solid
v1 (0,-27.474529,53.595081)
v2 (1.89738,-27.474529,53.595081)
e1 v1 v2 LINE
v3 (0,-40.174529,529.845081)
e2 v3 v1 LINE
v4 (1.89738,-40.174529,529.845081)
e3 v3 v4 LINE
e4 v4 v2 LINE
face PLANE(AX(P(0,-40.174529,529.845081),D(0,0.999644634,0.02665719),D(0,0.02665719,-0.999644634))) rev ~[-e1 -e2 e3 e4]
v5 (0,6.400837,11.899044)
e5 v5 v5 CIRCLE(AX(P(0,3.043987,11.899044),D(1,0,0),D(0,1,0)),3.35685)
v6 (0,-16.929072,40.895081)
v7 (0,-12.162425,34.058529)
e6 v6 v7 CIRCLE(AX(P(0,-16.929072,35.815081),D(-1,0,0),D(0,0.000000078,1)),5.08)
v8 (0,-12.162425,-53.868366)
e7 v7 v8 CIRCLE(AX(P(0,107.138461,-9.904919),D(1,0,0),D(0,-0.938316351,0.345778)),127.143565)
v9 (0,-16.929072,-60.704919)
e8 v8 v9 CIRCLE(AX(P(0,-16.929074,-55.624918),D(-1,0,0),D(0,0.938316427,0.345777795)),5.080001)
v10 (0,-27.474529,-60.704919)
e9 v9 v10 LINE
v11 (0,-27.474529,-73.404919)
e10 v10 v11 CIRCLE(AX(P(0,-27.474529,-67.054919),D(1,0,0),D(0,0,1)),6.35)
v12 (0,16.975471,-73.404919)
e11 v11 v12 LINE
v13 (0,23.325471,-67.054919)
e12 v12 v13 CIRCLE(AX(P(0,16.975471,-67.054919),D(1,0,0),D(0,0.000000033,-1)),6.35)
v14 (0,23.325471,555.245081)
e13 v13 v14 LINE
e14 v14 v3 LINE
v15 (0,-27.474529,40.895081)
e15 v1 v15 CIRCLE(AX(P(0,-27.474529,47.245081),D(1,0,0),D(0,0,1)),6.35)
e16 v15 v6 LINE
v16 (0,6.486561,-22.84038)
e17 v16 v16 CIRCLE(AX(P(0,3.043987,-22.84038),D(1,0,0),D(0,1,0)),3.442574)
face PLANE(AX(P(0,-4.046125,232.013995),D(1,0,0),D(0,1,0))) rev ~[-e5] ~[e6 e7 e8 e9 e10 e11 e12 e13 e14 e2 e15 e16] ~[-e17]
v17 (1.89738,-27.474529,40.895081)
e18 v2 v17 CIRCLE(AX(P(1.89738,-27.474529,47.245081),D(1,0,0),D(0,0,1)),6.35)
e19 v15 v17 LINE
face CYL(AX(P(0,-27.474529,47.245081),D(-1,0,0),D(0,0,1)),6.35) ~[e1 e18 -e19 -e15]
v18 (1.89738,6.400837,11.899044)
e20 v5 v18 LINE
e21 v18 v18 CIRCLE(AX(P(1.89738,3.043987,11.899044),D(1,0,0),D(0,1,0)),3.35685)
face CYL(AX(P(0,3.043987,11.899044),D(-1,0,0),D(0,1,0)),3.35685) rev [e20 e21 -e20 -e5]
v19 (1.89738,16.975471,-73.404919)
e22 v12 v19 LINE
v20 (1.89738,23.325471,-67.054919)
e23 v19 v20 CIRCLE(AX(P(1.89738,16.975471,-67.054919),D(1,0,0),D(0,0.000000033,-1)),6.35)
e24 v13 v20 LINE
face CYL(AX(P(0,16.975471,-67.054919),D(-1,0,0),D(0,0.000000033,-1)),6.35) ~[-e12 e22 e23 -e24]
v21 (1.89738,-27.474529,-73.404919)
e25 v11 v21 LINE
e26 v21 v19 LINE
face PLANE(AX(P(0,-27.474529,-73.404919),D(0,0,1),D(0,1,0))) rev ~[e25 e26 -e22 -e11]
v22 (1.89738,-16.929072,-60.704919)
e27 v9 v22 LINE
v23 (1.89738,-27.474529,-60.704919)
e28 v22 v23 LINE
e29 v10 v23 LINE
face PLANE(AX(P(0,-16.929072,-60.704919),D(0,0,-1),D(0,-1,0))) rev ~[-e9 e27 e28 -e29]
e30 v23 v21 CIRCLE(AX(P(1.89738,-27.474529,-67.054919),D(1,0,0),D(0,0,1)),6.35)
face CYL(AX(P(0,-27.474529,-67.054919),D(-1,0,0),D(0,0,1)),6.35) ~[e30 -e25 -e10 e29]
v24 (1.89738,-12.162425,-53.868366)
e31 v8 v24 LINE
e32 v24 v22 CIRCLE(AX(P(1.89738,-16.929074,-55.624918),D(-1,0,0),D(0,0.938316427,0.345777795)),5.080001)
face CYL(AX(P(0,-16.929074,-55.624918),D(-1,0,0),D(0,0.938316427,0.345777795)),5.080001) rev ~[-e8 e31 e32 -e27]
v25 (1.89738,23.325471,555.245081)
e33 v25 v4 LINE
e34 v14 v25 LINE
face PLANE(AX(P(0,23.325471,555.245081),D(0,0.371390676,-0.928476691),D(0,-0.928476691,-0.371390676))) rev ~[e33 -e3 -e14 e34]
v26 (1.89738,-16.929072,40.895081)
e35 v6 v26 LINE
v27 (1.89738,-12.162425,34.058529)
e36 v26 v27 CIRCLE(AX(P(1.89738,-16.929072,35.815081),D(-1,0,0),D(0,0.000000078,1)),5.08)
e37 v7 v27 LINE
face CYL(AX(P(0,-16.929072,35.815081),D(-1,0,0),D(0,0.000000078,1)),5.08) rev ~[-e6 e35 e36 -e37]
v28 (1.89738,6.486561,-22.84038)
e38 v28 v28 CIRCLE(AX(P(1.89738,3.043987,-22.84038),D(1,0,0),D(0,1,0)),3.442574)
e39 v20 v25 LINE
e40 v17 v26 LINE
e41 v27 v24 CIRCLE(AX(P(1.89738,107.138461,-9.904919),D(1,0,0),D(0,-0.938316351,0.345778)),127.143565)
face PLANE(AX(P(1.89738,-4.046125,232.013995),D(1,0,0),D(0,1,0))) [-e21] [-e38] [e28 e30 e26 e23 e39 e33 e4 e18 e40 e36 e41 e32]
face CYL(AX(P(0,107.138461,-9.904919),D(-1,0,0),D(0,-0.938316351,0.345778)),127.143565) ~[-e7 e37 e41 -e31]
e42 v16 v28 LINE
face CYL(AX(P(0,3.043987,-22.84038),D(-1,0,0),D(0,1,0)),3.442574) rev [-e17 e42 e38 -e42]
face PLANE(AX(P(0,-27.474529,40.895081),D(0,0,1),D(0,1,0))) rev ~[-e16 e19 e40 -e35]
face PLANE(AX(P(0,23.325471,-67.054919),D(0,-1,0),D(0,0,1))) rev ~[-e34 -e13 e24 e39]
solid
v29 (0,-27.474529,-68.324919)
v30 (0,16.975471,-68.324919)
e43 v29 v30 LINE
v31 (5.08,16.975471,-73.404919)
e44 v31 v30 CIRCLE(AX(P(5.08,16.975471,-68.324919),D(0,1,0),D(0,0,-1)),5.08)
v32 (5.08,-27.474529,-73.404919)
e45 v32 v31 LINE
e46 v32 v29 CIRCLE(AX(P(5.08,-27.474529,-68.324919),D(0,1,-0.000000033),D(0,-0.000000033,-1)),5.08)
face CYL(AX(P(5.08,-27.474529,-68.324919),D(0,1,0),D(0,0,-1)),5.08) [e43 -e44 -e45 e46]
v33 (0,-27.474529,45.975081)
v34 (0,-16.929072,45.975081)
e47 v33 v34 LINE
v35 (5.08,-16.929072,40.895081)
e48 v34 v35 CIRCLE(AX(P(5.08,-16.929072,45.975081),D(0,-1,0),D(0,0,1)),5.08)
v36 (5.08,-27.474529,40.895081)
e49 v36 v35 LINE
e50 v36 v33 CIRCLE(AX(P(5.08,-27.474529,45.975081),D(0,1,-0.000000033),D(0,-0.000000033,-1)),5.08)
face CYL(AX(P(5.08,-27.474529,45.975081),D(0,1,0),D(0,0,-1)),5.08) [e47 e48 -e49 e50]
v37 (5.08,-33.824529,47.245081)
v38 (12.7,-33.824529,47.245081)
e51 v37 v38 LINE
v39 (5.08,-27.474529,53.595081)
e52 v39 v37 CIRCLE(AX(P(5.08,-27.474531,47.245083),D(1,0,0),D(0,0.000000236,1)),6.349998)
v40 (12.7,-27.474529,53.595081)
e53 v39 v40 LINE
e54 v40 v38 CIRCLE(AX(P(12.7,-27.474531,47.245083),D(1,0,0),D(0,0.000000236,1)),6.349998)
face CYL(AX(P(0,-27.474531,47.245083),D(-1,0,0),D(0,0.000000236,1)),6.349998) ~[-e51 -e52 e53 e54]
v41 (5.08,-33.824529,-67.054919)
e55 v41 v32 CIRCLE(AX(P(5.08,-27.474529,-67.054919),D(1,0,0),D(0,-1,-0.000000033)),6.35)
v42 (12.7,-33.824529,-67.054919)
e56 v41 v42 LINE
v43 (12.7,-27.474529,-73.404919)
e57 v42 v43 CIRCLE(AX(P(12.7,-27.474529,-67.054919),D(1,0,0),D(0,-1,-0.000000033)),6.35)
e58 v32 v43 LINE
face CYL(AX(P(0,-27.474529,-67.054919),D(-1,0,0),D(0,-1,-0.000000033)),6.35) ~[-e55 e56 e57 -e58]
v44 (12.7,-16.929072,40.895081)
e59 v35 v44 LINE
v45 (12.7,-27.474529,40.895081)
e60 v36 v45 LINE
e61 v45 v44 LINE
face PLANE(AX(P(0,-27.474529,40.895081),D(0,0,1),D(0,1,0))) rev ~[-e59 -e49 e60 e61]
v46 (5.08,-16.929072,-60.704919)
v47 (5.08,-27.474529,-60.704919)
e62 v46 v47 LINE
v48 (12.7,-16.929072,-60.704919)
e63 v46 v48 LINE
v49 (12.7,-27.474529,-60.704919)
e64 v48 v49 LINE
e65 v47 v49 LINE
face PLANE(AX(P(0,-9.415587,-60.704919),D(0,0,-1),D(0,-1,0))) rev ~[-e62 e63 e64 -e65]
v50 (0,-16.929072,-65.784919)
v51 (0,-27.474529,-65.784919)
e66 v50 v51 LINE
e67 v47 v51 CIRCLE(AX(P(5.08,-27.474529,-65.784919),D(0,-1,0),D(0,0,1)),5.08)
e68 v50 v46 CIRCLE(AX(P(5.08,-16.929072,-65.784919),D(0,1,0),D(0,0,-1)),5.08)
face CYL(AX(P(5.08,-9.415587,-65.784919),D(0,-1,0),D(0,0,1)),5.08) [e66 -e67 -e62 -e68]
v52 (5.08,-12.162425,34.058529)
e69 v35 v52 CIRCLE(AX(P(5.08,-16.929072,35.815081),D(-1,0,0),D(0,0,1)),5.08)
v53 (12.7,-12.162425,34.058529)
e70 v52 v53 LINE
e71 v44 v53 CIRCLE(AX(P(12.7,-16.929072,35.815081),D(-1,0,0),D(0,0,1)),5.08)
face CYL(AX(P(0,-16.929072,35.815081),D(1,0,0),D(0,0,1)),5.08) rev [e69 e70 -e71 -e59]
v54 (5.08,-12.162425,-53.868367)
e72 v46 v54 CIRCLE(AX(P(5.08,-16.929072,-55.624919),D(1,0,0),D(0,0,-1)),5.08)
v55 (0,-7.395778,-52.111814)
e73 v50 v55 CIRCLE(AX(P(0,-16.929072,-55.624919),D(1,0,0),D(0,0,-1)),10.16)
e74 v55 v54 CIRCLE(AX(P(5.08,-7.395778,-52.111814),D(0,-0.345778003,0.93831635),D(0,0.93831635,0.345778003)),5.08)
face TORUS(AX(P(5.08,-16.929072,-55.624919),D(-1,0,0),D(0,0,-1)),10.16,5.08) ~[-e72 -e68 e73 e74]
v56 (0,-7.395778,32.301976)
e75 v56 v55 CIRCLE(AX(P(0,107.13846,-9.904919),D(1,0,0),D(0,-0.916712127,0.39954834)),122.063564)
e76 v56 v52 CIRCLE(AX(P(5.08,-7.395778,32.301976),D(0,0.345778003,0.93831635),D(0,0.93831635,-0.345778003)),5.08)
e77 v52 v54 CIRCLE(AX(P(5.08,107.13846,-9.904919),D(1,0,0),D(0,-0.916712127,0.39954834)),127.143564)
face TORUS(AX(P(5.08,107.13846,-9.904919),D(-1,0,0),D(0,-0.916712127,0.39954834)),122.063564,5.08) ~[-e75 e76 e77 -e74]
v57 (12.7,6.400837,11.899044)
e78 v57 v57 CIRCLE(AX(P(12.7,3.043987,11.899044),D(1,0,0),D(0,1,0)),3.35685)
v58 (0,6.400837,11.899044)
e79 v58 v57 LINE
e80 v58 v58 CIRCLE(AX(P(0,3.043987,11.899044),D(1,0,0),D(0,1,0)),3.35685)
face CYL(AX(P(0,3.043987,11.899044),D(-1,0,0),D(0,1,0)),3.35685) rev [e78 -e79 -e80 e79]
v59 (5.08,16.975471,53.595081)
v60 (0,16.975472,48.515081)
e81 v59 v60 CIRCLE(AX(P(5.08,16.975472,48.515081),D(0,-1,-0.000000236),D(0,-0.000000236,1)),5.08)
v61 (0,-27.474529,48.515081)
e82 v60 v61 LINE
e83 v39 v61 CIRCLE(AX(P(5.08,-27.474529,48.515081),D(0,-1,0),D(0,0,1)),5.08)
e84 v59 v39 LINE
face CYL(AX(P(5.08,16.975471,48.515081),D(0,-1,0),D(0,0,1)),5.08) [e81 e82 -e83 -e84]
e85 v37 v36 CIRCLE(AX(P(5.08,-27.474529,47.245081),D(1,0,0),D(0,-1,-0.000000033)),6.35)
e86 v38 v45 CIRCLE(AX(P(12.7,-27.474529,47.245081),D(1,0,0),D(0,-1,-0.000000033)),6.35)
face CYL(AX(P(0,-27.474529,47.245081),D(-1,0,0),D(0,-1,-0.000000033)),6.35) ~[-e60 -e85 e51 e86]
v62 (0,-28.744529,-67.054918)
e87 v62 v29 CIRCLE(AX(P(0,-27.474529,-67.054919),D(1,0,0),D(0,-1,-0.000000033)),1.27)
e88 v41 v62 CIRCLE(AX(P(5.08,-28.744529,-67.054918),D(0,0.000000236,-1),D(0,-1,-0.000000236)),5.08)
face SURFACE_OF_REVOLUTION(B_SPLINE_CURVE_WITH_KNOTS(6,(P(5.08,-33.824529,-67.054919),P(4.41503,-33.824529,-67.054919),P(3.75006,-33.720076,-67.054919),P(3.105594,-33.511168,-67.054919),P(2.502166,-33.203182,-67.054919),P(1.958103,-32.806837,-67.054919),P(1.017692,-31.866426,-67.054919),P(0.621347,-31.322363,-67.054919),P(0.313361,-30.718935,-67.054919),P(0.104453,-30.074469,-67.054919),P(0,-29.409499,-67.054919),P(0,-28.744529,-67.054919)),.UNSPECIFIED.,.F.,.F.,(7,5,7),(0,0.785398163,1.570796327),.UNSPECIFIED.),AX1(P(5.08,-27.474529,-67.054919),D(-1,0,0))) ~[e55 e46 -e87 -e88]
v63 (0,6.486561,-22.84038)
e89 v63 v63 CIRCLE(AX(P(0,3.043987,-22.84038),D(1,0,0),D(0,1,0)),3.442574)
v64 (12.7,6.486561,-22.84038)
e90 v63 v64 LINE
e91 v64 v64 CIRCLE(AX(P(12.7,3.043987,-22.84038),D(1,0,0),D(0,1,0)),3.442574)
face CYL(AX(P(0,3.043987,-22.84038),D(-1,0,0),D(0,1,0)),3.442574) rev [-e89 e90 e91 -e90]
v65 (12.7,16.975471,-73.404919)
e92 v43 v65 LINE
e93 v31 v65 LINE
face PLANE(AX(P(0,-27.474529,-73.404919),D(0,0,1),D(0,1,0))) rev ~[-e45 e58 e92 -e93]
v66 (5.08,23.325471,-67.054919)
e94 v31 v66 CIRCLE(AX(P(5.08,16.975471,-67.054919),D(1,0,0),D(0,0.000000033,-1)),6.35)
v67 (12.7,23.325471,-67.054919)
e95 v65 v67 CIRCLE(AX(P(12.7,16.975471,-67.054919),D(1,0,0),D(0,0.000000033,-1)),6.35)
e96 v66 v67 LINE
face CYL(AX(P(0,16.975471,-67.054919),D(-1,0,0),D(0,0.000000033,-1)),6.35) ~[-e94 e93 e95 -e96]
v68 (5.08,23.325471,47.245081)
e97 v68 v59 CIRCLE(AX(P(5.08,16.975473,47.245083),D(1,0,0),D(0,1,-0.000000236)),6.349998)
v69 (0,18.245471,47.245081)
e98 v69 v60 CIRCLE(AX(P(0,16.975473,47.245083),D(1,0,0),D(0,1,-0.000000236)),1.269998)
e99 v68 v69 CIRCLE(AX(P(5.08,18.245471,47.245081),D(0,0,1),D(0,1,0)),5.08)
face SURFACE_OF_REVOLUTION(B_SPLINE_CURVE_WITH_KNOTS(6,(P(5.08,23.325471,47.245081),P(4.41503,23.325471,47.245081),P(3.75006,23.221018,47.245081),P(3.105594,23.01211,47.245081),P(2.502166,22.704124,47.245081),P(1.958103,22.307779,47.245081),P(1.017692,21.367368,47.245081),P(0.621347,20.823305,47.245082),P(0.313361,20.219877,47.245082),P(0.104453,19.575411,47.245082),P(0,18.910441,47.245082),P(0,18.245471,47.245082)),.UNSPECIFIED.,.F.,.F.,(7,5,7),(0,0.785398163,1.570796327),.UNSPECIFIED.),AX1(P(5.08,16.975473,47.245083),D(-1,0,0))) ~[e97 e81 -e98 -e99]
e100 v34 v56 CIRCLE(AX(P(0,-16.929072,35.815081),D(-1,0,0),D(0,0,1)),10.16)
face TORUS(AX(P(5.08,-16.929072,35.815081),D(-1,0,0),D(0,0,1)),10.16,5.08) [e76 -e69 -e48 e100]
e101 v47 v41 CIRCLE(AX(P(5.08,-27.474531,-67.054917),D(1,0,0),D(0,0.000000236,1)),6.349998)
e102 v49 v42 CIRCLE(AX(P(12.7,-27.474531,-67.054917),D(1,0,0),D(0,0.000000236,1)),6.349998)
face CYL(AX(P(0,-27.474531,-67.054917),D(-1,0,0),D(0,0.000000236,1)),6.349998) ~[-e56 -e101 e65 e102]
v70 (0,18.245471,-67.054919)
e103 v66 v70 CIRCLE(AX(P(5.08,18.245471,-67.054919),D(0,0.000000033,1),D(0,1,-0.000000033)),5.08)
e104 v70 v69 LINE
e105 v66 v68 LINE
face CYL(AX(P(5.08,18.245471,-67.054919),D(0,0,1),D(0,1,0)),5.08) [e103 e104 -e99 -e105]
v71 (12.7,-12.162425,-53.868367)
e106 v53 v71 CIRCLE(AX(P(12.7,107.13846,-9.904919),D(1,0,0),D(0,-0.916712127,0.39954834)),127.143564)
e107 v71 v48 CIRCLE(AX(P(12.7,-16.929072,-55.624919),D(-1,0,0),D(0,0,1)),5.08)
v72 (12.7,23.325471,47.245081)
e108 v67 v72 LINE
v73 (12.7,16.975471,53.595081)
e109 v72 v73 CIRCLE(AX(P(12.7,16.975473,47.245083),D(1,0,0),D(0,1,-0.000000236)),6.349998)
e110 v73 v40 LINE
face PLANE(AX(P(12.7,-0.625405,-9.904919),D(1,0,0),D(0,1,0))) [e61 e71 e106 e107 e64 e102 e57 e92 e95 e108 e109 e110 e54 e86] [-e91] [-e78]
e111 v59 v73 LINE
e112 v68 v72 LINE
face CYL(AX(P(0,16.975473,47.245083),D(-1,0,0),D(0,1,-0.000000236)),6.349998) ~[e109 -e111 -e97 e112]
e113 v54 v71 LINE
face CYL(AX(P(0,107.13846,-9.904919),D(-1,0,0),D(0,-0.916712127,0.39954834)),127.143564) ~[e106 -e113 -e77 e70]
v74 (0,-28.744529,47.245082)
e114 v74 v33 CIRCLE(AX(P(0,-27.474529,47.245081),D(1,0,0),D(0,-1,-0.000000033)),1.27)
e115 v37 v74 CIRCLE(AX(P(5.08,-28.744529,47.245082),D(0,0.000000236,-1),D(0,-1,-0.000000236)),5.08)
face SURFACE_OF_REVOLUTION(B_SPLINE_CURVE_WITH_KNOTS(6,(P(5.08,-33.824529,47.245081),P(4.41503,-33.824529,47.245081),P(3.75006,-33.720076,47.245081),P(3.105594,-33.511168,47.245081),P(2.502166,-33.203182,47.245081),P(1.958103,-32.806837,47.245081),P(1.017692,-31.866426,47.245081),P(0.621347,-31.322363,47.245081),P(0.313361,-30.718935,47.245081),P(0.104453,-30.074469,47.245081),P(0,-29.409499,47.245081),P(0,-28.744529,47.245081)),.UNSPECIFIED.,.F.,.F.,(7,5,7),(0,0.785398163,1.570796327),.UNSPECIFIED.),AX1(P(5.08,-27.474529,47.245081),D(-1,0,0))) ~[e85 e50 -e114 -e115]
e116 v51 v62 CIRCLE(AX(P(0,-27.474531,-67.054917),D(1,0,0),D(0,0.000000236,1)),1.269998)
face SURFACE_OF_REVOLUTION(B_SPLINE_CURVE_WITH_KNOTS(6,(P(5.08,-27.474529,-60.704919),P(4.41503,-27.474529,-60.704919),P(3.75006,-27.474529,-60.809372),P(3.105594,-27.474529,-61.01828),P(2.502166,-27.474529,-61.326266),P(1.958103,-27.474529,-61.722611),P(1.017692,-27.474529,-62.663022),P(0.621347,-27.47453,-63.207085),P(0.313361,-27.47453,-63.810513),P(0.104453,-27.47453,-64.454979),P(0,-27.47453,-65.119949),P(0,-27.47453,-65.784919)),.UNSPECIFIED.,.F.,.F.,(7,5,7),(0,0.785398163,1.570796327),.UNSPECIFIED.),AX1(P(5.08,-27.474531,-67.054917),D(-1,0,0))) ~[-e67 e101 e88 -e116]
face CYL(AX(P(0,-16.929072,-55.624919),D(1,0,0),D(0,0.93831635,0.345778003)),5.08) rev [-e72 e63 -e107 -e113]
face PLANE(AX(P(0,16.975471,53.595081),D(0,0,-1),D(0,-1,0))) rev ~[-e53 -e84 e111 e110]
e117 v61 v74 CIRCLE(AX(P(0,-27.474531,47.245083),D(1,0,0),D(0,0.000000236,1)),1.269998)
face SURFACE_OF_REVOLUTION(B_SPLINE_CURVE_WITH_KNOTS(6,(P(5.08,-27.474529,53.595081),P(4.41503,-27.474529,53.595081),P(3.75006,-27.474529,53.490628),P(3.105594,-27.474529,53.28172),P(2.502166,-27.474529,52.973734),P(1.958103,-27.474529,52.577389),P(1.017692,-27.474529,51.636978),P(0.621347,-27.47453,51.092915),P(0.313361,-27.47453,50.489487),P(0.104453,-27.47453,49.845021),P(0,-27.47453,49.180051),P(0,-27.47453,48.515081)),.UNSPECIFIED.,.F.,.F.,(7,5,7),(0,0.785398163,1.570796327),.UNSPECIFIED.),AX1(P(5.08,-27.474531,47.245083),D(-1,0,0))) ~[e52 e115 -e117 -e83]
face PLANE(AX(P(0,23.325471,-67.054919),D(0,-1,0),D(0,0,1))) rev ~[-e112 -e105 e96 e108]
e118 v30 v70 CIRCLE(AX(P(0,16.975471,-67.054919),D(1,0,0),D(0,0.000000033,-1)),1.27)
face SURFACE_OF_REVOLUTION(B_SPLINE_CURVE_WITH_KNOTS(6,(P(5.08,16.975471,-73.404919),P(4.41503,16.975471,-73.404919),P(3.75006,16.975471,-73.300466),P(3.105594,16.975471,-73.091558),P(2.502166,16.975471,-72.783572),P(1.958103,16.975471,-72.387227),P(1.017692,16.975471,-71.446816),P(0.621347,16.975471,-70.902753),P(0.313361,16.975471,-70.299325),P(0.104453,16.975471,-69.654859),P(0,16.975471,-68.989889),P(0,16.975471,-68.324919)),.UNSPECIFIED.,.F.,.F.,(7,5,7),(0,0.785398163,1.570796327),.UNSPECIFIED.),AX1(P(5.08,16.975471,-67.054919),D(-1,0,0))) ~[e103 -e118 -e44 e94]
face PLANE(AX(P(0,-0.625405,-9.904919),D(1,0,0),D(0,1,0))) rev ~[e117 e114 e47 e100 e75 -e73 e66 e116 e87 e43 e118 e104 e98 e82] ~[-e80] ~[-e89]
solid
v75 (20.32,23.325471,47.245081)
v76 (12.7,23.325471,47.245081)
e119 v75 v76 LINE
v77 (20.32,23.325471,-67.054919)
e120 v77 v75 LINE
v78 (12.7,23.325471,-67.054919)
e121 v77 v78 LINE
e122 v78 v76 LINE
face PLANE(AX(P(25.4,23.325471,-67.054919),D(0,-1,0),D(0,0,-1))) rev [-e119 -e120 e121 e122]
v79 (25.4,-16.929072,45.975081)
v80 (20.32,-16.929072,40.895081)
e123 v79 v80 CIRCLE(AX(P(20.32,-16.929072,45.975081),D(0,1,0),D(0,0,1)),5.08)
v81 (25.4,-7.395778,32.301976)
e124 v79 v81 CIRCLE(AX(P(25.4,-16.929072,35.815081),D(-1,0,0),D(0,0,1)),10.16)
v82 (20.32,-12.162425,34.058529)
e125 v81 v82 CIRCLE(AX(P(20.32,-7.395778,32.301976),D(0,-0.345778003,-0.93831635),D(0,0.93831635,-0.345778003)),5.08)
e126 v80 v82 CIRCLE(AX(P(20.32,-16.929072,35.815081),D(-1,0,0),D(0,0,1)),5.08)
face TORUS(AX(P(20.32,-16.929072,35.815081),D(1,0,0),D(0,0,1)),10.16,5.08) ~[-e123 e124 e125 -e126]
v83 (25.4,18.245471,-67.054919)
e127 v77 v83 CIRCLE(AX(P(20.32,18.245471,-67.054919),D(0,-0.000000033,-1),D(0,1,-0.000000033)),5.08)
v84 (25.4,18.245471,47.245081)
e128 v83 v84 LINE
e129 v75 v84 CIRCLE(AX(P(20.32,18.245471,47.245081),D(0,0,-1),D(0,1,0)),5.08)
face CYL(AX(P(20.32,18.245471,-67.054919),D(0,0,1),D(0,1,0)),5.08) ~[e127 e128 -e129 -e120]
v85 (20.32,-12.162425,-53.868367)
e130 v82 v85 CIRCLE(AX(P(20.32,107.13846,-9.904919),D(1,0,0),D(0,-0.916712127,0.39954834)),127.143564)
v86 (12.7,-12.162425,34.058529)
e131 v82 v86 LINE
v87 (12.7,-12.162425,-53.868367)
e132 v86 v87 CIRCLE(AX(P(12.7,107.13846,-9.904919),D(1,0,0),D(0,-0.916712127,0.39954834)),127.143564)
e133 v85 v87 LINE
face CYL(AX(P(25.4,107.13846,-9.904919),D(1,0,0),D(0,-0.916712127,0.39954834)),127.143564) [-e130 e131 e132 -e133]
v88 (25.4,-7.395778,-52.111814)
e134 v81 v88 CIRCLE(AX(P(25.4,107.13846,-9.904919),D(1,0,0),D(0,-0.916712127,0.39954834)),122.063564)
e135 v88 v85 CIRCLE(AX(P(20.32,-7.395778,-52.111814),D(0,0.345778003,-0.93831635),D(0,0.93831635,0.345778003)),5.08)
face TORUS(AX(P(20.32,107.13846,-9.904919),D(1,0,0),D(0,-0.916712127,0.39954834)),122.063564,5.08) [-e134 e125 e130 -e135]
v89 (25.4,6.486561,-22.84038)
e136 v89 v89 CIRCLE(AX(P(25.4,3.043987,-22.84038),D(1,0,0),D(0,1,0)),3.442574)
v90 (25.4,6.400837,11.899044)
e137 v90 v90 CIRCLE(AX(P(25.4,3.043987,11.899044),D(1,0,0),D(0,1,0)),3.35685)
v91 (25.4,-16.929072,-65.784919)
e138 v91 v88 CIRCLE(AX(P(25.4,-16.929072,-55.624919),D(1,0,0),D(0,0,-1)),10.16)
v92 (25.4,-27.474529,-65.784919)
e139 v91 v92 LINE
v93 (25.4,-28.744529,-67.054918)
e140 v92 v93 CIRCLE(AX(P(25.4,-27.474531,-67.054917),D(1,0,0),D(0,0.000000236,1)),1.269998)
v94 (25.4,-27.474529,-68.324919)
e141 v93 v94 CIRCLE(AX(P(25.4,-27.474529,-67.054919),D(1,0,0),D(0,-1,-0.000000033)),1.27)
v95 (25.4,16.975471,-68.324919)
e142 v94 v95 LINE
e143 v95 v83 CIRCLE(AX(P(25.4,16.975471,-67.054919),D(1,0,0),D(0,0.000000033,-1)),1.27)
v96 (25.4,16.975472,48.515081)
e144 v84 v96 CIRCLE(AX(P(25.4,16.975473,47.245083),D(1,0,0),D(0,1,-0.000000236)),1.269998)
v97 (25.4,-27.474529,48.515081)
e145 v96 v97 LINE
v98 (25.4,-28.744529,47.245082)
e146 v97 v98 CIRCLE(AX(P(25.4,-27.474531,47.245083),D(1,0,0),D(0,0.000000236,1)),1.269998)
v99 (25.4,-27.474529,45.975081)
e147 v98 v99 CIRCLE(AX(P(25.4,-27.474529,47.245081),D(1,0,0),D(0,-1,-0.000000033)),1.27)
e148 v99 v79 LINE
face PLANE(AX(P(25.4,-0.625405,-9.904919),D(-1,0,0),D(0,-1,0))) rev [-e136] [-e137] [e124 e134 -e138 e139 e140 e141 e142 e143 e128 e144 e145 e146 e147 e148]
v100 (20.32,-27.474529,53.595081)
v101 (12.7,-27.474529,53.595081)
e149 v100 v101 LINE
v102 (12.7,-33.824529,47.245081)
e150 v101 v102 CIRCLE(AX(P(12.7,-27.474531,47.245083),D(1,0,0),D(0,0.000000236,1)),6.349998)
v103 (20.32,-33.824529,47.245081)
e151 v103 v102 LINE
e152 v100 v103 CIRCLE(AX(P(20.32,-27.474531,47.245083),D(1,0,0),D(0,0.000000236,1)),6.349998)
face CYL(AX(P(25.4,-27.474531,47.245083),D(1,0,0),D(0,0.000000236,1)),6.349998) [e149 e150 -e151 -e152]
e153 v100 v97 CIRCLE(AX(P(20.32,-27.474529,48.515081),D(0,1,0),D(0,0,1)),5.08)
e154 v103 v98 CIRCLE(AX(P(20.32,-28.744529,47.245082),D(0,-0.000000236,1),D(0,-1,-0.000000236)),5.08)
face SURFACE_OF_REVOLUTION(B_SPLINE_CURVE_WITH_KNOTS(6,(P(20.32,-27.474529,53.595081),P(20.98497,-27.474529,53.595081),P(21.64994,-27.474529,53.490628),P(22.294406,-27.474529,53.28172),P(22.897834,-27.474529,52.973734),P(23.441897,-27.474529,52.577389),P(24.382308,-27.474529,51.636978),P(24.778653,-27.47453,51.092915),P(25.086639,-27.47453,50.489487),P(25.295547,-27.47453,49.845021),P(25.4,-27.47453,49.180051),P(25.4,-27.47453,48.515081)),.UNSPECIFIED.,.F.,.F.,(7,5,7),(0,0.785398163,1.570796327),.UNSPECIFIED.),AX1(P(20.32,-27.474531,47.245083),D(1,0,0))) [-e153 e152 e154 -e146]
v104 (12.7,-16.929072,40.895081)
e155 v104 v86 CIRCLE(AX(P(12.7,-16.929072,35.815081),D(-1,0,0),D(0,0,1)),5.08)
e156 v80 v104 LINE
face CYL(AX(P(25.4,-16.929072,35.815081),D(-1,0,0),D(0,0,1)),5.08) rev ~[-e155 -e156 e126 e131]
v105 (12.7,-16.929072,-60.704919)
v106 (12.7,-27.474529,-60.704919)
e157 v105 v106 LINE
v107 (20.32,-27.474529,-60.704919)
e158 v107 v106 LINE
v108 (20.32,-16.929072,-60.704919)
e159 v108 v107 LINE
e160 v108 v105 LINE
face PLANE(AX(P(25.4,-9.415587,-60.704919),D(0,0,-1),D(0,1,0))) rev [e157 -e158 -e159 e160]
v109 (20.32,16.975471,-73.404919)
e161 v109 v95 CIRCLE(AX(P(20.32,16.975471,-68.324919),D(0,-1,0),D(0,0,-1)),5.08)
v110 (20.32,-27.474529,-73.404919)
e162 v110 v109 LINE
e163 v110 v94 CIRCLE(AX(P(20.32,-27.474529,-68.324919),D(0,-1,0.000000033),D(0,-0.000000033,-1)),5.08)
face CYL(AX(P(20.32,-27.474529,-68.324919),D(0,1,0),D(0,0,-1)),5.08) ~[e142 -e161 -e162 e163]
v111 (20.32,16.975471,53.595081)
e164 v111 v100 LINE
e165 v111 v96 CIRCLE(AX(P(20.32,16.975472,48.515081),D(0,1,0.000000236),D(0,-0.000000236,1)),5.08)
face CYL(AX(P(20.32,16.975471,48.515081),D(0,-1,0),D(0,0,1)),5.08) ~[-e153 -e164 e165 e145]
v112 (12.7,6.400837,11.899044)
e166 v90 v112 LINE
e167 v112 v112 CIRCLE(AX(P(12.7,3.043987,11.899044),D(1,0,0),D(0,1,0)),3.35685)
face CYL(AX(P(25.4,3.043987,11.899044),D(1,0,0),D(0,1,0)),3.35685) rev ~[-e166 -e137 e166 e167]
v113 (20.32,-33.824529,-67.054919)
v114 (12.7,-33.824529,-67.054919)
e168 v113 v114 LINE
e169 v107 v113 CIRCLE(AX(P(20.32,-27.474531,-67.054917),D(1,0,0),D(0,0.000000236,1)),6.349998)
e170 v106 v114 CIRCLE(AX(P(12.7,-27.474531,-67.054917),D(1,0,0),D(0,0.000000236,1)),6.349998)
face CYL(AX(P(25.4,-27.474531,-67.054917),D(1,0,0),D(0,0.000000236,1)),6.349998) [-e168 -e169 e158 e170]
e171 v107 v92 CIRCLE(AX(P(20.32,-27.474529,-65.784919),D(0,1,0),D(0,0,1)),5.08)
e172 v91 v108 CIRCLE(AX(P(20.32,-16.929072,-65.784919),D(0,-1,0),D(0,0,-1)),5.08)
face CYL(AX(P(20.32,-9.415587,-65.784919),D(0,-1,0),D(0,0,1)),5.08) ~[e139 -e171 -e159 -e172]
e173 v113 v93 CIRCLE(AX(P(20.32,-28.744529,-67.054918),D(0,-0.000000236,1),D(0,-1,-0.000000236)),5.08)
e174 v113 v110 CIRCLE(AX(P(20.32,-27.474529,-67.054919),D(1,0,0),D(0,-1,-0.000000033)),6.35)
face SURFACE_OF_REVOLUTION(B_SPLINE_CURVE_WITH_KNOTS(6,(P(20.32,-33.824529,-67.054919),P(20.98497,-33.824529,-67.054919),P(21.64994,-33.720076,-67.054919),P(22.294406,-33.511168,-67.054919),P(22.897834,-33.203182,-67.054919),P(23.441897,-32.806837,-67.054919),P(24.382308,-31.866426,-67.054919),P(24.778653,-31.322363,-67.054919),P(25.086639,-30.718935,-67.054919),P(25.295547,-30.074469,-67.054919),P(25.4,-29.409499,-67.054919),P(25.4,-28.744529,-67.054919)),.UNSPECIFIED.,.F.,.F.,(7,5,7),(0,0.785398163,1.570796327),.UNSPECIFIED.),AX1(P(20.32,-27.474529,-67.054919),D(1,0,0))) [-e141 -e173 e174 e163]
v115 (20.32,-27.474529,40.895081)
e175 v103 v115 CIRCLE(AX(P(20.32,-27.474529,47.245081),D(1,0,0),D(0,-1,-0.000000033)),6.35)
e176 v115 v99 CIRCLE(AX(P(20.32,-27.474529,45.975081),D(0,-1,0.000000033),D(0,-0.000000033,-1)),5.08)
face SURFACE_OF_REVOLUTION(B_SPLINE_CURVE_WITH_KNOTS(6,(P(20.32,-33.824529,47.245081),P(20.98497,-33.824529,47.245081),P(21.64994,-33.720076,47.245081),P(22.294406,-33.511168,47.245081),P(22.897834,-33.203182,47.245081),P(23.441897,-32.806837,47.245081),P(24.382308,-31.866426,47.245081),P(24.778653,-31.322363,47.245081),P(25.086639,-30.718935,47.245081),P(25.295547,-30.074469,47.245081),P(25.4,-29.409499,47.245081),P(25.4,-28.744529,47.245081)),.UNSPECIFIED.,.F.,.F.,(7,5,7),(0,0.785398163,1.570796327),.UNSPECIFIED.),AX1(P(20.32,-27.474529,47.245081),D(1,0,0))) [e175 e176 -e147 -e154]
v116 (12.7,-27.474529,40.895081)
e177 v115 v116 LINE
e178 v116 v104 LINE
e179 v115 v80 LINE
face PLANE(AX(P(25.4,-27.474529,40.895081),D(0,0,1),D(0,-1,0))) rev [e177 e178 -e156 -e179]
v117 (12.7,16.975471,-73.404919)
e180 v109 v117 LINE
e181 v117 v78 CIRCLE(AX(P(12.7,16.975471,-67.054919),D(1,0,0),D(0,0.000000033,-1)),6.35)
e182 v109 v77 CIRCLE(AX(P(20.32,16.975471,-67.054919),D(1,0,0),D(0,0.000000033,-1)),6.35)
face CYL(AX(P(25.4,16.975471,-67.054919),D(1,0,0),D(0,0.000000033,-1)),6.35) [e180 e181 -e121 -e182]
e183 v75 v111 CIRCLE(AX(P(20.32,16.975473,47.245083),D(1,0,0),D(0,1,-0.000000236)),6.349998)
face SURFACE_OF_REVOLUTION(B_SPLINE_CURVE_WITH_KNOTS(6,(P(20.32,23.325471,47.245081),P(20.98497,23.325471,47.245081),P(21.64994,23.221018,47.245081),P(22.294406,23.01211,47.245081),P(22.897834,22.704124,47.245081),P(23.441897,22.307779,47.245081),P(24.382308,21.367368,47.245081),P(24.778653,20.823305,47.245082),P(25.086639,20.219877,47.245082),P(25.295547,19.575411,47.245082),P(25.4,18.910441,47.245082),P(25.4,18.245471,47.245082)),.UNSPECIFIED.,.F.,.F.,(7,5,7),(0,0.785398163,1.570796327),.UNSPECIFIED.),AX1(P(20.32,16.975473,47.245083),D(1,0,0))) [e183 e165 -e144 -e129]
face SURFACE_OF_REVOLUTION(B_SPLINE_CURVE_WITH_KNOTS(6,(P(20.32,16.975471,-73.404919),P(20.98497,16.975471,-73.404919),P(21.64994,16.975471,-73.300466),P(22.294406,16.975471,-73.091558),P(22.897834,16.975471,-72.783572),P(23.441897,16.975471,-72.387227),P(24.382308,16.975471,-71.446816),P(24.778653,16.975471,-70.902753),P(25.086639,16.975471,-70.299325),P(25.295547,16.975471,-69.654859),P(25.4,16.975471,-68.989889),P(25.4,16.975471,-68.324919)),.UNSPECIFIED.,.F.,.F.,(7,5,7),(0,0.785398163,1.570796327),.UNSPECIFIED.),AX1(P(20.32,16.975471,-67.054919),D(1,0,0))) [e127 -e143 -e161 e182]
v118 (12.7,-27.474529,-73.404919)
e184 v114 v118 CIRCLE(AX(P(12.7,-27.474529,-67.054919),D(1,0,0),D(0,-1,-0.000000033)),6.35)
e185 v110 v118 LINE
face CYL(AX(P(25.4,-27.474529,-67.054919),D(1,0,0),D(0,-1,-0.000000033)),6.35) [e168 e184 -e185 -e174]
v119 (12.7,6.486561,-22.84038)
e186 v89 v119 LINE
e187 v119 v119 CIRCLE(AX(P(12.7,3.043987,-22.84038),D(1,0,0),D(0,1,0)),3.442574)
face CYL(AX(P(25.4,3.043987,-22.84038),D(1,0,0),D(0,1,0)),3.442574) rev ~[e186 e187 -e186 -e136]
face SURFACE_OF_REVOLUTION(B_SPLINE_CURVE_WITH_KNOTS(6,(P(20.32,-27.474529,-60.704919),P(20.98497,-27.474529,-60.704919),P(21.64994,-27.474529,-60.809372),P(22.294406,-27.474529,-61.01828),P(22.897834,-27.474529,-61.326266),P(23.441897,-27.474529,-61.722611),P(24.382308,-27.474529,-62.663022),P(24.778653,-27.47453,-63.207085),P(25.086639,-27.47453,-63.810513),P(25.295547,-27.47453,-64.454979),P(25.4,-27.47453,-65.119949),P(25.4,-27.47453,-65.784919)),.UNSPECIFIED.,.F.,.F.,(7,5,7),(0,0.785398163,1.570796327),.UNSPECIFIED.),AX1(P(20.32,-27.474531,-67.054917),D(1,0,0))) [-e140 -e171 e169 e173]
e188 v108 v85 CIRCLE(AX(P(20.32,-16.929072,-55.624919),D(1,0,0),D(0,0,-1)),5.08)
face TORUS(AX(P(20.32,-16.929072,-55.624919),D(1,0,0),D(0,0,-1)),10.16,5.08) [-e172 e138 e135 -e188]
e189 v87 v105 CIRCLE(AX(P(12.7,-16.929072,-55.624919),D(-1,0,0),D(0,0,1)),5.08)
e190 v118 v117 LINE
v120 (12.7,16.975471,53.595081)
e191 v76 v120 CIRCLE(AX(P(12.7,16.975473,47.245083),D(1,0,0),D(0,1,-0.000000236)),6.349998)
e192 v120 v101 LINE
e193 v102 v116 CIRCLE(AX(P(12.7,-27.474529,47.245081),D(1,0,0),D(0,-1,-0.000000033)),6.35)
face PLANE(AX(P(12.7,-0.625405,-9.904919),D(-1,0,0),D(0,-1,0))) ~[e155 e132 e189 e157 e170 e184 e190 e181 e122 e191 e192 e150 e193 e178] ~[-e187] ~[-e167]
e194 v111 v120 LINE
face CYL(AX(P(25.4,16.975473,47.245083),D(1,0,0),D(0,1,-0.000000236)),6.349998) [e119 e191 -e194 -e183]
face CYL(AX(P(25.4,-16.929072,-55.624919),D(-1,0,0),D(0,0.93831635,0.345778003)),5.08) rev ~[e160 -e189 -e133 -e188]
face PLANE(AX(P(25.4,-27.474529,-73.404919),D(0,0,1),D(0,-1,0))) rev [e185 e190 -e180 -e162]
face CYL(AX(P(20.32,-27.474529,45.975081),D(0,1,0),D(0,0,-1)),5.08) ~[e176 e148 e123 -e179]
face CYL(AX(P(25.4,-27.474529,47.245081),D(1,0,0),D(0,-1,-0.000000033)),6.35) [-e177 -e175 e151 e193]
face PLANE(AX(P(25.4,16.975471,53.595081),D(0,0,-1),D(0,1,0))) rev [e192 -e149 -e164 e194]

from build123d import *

# Parameters (mm, degrees)
F0_R     = 3.442574
F0_R_2   = 3.35685
F1_DEPTH = 12.7
F2_R     = 5.08
F4_R     = 3.442574
F4_R_2   = 3.35685
F5_DEPTH = 1.89738


with BuildPart() as f1:
    # F0 (on Right) → F1 (new body)
    with BuildSketch(Plane.YZ):
        with BuildLine():
            Line((23.325471, -67.054919), (23.325471, 47.245081))
            ThreePointArc((23.325471, 47.245081), (21.465599, 51.73521), (16.975471, 53.595081))
            Line((16.975471, 53.595081), (-27.474529, 53.595081))
            ThreePointArc((-27.474529, 53.595081), (-31.964657, 51.73521), (-33.824529, 47.245081))
            ThreePointArc((-33.824529, 47.245081), (-31.964657, 42.754953), (-27.474529, 40.895081))
            Line((-27.474529, 40.895081), (-9.415587, 40.895081))
            Line((-9.415587, 40.895081), (-9.415587, -60.704919))
            Line((-9.415587, -60.704919), (-27.474529, -60.704919))
            ThreePointArc((-27.474529, -60.704919), (-31.964657, -62.56479), (-33.824529, -67.054919))
            ThreePointArc((-33.824529, -67.054919), (-31.964657, -71.545047), (-27.474529, -73.404919))
            Line((-27.474529, -73.404919), (16.975471, -73.404919))
            ThreePointArc((16.975471, -73.404919), (21.465599, -71.545047), (23.325471, -67.054919))
        make_face()
        with Locations((3.043987, -22.84038)):
            Circle(F0_R, mode=Mode.SUBTRACT)
        with Locations((3.043987, 11.899044)):
            Circle(F0_R_2, mode=Mode.SUBTRACT)
        with BuildLine():
            Line((-9.415587, -60.704919), (-9.415587, 40.895081))
            ThreePointArc((-9.415587, 40.895081), (-20.005104, -9.904919), (-9.415587, -60.704919))
        make_face()
    extrude(amount=F1_DEPTH)

    # F2
    f2_edges = [f1.edges().sort_by_distance(p)[0] for p in [
        (0, -5.249529, 53.595081),
        (0, -20.005104, -9.904919),
        (6.35, -9.415587, 40.895081),
        (6.35, -9.415587, -60.704919),
    ]]
    fillet(f2_edges, radius=F2_R)


with BuildPart() as f3_1:
    # F3: instance of F1
    add(f1.part.mirror(Plane(origin=(12.7, 1.082307, -9.958647), x_dir=(0, 1, 0), z_dir=(1, 0, 0))))


with BuildPart() as f5:
    # F4 (on Right) → F5 (new body)
    with BuildSketch(Plane.YZ):
        with BuildLine():
            ThreePointArc((-27.474529, 53.595081), (-33.824529, 47.245081), (-27.474529, 40.895081))
            Line((-27.474529, 40.895081), (-16.929072, 40.895081))
            ThreePointArc((-16.929072, 40.895081), (-12.761958, 38.720517), (-12.162425, 34.058529))
            ThreePointArc((-12.162425, 34.058529), (-20.005104, -9.904919), (-12.162425, -53.868366))
            ThreePointArc((-12.162425, -53.868366), (-12.761958, -58.530354), (-16.929072, -60.704919))
            Line((-16.929072, -60.704919), (-27.474529, -60.704919))
            ThreePointArc((-27.474529, -60.704919), (-33.824529, -67.054919), (-27.474529, -73.404919))
            Line((-27.474529, -73.404919), (16.975471, -73.404919))
            ThreePointArc((16.975471, -73.404919), (21.465599, -71.545047), (23.325471, -67.054919))
            Line((23.325471, -67.054919), (23.325471, 47.245081))
            Line((23.325471, 47.245081), (23.325471, 555.245081))
            Line((23.325471, 555.245081), (-40.174529, 529.845081))
            Line((-40.174529, 529.845081), (-27.474529, 53.595081))
        make_face()
        with Locations((3.043987, -22.84038)):
            Circle(F4_R, mode=Mode.SUBTRACT)
        with Locations((3.043987, 11.899044)):
            Circle(F4_R_2, mode=Mode.SUBTRACT)
    extrude(amount=F5_DEPTH)


solid = Compound([f1.part, f3_1.part, f5.part])
